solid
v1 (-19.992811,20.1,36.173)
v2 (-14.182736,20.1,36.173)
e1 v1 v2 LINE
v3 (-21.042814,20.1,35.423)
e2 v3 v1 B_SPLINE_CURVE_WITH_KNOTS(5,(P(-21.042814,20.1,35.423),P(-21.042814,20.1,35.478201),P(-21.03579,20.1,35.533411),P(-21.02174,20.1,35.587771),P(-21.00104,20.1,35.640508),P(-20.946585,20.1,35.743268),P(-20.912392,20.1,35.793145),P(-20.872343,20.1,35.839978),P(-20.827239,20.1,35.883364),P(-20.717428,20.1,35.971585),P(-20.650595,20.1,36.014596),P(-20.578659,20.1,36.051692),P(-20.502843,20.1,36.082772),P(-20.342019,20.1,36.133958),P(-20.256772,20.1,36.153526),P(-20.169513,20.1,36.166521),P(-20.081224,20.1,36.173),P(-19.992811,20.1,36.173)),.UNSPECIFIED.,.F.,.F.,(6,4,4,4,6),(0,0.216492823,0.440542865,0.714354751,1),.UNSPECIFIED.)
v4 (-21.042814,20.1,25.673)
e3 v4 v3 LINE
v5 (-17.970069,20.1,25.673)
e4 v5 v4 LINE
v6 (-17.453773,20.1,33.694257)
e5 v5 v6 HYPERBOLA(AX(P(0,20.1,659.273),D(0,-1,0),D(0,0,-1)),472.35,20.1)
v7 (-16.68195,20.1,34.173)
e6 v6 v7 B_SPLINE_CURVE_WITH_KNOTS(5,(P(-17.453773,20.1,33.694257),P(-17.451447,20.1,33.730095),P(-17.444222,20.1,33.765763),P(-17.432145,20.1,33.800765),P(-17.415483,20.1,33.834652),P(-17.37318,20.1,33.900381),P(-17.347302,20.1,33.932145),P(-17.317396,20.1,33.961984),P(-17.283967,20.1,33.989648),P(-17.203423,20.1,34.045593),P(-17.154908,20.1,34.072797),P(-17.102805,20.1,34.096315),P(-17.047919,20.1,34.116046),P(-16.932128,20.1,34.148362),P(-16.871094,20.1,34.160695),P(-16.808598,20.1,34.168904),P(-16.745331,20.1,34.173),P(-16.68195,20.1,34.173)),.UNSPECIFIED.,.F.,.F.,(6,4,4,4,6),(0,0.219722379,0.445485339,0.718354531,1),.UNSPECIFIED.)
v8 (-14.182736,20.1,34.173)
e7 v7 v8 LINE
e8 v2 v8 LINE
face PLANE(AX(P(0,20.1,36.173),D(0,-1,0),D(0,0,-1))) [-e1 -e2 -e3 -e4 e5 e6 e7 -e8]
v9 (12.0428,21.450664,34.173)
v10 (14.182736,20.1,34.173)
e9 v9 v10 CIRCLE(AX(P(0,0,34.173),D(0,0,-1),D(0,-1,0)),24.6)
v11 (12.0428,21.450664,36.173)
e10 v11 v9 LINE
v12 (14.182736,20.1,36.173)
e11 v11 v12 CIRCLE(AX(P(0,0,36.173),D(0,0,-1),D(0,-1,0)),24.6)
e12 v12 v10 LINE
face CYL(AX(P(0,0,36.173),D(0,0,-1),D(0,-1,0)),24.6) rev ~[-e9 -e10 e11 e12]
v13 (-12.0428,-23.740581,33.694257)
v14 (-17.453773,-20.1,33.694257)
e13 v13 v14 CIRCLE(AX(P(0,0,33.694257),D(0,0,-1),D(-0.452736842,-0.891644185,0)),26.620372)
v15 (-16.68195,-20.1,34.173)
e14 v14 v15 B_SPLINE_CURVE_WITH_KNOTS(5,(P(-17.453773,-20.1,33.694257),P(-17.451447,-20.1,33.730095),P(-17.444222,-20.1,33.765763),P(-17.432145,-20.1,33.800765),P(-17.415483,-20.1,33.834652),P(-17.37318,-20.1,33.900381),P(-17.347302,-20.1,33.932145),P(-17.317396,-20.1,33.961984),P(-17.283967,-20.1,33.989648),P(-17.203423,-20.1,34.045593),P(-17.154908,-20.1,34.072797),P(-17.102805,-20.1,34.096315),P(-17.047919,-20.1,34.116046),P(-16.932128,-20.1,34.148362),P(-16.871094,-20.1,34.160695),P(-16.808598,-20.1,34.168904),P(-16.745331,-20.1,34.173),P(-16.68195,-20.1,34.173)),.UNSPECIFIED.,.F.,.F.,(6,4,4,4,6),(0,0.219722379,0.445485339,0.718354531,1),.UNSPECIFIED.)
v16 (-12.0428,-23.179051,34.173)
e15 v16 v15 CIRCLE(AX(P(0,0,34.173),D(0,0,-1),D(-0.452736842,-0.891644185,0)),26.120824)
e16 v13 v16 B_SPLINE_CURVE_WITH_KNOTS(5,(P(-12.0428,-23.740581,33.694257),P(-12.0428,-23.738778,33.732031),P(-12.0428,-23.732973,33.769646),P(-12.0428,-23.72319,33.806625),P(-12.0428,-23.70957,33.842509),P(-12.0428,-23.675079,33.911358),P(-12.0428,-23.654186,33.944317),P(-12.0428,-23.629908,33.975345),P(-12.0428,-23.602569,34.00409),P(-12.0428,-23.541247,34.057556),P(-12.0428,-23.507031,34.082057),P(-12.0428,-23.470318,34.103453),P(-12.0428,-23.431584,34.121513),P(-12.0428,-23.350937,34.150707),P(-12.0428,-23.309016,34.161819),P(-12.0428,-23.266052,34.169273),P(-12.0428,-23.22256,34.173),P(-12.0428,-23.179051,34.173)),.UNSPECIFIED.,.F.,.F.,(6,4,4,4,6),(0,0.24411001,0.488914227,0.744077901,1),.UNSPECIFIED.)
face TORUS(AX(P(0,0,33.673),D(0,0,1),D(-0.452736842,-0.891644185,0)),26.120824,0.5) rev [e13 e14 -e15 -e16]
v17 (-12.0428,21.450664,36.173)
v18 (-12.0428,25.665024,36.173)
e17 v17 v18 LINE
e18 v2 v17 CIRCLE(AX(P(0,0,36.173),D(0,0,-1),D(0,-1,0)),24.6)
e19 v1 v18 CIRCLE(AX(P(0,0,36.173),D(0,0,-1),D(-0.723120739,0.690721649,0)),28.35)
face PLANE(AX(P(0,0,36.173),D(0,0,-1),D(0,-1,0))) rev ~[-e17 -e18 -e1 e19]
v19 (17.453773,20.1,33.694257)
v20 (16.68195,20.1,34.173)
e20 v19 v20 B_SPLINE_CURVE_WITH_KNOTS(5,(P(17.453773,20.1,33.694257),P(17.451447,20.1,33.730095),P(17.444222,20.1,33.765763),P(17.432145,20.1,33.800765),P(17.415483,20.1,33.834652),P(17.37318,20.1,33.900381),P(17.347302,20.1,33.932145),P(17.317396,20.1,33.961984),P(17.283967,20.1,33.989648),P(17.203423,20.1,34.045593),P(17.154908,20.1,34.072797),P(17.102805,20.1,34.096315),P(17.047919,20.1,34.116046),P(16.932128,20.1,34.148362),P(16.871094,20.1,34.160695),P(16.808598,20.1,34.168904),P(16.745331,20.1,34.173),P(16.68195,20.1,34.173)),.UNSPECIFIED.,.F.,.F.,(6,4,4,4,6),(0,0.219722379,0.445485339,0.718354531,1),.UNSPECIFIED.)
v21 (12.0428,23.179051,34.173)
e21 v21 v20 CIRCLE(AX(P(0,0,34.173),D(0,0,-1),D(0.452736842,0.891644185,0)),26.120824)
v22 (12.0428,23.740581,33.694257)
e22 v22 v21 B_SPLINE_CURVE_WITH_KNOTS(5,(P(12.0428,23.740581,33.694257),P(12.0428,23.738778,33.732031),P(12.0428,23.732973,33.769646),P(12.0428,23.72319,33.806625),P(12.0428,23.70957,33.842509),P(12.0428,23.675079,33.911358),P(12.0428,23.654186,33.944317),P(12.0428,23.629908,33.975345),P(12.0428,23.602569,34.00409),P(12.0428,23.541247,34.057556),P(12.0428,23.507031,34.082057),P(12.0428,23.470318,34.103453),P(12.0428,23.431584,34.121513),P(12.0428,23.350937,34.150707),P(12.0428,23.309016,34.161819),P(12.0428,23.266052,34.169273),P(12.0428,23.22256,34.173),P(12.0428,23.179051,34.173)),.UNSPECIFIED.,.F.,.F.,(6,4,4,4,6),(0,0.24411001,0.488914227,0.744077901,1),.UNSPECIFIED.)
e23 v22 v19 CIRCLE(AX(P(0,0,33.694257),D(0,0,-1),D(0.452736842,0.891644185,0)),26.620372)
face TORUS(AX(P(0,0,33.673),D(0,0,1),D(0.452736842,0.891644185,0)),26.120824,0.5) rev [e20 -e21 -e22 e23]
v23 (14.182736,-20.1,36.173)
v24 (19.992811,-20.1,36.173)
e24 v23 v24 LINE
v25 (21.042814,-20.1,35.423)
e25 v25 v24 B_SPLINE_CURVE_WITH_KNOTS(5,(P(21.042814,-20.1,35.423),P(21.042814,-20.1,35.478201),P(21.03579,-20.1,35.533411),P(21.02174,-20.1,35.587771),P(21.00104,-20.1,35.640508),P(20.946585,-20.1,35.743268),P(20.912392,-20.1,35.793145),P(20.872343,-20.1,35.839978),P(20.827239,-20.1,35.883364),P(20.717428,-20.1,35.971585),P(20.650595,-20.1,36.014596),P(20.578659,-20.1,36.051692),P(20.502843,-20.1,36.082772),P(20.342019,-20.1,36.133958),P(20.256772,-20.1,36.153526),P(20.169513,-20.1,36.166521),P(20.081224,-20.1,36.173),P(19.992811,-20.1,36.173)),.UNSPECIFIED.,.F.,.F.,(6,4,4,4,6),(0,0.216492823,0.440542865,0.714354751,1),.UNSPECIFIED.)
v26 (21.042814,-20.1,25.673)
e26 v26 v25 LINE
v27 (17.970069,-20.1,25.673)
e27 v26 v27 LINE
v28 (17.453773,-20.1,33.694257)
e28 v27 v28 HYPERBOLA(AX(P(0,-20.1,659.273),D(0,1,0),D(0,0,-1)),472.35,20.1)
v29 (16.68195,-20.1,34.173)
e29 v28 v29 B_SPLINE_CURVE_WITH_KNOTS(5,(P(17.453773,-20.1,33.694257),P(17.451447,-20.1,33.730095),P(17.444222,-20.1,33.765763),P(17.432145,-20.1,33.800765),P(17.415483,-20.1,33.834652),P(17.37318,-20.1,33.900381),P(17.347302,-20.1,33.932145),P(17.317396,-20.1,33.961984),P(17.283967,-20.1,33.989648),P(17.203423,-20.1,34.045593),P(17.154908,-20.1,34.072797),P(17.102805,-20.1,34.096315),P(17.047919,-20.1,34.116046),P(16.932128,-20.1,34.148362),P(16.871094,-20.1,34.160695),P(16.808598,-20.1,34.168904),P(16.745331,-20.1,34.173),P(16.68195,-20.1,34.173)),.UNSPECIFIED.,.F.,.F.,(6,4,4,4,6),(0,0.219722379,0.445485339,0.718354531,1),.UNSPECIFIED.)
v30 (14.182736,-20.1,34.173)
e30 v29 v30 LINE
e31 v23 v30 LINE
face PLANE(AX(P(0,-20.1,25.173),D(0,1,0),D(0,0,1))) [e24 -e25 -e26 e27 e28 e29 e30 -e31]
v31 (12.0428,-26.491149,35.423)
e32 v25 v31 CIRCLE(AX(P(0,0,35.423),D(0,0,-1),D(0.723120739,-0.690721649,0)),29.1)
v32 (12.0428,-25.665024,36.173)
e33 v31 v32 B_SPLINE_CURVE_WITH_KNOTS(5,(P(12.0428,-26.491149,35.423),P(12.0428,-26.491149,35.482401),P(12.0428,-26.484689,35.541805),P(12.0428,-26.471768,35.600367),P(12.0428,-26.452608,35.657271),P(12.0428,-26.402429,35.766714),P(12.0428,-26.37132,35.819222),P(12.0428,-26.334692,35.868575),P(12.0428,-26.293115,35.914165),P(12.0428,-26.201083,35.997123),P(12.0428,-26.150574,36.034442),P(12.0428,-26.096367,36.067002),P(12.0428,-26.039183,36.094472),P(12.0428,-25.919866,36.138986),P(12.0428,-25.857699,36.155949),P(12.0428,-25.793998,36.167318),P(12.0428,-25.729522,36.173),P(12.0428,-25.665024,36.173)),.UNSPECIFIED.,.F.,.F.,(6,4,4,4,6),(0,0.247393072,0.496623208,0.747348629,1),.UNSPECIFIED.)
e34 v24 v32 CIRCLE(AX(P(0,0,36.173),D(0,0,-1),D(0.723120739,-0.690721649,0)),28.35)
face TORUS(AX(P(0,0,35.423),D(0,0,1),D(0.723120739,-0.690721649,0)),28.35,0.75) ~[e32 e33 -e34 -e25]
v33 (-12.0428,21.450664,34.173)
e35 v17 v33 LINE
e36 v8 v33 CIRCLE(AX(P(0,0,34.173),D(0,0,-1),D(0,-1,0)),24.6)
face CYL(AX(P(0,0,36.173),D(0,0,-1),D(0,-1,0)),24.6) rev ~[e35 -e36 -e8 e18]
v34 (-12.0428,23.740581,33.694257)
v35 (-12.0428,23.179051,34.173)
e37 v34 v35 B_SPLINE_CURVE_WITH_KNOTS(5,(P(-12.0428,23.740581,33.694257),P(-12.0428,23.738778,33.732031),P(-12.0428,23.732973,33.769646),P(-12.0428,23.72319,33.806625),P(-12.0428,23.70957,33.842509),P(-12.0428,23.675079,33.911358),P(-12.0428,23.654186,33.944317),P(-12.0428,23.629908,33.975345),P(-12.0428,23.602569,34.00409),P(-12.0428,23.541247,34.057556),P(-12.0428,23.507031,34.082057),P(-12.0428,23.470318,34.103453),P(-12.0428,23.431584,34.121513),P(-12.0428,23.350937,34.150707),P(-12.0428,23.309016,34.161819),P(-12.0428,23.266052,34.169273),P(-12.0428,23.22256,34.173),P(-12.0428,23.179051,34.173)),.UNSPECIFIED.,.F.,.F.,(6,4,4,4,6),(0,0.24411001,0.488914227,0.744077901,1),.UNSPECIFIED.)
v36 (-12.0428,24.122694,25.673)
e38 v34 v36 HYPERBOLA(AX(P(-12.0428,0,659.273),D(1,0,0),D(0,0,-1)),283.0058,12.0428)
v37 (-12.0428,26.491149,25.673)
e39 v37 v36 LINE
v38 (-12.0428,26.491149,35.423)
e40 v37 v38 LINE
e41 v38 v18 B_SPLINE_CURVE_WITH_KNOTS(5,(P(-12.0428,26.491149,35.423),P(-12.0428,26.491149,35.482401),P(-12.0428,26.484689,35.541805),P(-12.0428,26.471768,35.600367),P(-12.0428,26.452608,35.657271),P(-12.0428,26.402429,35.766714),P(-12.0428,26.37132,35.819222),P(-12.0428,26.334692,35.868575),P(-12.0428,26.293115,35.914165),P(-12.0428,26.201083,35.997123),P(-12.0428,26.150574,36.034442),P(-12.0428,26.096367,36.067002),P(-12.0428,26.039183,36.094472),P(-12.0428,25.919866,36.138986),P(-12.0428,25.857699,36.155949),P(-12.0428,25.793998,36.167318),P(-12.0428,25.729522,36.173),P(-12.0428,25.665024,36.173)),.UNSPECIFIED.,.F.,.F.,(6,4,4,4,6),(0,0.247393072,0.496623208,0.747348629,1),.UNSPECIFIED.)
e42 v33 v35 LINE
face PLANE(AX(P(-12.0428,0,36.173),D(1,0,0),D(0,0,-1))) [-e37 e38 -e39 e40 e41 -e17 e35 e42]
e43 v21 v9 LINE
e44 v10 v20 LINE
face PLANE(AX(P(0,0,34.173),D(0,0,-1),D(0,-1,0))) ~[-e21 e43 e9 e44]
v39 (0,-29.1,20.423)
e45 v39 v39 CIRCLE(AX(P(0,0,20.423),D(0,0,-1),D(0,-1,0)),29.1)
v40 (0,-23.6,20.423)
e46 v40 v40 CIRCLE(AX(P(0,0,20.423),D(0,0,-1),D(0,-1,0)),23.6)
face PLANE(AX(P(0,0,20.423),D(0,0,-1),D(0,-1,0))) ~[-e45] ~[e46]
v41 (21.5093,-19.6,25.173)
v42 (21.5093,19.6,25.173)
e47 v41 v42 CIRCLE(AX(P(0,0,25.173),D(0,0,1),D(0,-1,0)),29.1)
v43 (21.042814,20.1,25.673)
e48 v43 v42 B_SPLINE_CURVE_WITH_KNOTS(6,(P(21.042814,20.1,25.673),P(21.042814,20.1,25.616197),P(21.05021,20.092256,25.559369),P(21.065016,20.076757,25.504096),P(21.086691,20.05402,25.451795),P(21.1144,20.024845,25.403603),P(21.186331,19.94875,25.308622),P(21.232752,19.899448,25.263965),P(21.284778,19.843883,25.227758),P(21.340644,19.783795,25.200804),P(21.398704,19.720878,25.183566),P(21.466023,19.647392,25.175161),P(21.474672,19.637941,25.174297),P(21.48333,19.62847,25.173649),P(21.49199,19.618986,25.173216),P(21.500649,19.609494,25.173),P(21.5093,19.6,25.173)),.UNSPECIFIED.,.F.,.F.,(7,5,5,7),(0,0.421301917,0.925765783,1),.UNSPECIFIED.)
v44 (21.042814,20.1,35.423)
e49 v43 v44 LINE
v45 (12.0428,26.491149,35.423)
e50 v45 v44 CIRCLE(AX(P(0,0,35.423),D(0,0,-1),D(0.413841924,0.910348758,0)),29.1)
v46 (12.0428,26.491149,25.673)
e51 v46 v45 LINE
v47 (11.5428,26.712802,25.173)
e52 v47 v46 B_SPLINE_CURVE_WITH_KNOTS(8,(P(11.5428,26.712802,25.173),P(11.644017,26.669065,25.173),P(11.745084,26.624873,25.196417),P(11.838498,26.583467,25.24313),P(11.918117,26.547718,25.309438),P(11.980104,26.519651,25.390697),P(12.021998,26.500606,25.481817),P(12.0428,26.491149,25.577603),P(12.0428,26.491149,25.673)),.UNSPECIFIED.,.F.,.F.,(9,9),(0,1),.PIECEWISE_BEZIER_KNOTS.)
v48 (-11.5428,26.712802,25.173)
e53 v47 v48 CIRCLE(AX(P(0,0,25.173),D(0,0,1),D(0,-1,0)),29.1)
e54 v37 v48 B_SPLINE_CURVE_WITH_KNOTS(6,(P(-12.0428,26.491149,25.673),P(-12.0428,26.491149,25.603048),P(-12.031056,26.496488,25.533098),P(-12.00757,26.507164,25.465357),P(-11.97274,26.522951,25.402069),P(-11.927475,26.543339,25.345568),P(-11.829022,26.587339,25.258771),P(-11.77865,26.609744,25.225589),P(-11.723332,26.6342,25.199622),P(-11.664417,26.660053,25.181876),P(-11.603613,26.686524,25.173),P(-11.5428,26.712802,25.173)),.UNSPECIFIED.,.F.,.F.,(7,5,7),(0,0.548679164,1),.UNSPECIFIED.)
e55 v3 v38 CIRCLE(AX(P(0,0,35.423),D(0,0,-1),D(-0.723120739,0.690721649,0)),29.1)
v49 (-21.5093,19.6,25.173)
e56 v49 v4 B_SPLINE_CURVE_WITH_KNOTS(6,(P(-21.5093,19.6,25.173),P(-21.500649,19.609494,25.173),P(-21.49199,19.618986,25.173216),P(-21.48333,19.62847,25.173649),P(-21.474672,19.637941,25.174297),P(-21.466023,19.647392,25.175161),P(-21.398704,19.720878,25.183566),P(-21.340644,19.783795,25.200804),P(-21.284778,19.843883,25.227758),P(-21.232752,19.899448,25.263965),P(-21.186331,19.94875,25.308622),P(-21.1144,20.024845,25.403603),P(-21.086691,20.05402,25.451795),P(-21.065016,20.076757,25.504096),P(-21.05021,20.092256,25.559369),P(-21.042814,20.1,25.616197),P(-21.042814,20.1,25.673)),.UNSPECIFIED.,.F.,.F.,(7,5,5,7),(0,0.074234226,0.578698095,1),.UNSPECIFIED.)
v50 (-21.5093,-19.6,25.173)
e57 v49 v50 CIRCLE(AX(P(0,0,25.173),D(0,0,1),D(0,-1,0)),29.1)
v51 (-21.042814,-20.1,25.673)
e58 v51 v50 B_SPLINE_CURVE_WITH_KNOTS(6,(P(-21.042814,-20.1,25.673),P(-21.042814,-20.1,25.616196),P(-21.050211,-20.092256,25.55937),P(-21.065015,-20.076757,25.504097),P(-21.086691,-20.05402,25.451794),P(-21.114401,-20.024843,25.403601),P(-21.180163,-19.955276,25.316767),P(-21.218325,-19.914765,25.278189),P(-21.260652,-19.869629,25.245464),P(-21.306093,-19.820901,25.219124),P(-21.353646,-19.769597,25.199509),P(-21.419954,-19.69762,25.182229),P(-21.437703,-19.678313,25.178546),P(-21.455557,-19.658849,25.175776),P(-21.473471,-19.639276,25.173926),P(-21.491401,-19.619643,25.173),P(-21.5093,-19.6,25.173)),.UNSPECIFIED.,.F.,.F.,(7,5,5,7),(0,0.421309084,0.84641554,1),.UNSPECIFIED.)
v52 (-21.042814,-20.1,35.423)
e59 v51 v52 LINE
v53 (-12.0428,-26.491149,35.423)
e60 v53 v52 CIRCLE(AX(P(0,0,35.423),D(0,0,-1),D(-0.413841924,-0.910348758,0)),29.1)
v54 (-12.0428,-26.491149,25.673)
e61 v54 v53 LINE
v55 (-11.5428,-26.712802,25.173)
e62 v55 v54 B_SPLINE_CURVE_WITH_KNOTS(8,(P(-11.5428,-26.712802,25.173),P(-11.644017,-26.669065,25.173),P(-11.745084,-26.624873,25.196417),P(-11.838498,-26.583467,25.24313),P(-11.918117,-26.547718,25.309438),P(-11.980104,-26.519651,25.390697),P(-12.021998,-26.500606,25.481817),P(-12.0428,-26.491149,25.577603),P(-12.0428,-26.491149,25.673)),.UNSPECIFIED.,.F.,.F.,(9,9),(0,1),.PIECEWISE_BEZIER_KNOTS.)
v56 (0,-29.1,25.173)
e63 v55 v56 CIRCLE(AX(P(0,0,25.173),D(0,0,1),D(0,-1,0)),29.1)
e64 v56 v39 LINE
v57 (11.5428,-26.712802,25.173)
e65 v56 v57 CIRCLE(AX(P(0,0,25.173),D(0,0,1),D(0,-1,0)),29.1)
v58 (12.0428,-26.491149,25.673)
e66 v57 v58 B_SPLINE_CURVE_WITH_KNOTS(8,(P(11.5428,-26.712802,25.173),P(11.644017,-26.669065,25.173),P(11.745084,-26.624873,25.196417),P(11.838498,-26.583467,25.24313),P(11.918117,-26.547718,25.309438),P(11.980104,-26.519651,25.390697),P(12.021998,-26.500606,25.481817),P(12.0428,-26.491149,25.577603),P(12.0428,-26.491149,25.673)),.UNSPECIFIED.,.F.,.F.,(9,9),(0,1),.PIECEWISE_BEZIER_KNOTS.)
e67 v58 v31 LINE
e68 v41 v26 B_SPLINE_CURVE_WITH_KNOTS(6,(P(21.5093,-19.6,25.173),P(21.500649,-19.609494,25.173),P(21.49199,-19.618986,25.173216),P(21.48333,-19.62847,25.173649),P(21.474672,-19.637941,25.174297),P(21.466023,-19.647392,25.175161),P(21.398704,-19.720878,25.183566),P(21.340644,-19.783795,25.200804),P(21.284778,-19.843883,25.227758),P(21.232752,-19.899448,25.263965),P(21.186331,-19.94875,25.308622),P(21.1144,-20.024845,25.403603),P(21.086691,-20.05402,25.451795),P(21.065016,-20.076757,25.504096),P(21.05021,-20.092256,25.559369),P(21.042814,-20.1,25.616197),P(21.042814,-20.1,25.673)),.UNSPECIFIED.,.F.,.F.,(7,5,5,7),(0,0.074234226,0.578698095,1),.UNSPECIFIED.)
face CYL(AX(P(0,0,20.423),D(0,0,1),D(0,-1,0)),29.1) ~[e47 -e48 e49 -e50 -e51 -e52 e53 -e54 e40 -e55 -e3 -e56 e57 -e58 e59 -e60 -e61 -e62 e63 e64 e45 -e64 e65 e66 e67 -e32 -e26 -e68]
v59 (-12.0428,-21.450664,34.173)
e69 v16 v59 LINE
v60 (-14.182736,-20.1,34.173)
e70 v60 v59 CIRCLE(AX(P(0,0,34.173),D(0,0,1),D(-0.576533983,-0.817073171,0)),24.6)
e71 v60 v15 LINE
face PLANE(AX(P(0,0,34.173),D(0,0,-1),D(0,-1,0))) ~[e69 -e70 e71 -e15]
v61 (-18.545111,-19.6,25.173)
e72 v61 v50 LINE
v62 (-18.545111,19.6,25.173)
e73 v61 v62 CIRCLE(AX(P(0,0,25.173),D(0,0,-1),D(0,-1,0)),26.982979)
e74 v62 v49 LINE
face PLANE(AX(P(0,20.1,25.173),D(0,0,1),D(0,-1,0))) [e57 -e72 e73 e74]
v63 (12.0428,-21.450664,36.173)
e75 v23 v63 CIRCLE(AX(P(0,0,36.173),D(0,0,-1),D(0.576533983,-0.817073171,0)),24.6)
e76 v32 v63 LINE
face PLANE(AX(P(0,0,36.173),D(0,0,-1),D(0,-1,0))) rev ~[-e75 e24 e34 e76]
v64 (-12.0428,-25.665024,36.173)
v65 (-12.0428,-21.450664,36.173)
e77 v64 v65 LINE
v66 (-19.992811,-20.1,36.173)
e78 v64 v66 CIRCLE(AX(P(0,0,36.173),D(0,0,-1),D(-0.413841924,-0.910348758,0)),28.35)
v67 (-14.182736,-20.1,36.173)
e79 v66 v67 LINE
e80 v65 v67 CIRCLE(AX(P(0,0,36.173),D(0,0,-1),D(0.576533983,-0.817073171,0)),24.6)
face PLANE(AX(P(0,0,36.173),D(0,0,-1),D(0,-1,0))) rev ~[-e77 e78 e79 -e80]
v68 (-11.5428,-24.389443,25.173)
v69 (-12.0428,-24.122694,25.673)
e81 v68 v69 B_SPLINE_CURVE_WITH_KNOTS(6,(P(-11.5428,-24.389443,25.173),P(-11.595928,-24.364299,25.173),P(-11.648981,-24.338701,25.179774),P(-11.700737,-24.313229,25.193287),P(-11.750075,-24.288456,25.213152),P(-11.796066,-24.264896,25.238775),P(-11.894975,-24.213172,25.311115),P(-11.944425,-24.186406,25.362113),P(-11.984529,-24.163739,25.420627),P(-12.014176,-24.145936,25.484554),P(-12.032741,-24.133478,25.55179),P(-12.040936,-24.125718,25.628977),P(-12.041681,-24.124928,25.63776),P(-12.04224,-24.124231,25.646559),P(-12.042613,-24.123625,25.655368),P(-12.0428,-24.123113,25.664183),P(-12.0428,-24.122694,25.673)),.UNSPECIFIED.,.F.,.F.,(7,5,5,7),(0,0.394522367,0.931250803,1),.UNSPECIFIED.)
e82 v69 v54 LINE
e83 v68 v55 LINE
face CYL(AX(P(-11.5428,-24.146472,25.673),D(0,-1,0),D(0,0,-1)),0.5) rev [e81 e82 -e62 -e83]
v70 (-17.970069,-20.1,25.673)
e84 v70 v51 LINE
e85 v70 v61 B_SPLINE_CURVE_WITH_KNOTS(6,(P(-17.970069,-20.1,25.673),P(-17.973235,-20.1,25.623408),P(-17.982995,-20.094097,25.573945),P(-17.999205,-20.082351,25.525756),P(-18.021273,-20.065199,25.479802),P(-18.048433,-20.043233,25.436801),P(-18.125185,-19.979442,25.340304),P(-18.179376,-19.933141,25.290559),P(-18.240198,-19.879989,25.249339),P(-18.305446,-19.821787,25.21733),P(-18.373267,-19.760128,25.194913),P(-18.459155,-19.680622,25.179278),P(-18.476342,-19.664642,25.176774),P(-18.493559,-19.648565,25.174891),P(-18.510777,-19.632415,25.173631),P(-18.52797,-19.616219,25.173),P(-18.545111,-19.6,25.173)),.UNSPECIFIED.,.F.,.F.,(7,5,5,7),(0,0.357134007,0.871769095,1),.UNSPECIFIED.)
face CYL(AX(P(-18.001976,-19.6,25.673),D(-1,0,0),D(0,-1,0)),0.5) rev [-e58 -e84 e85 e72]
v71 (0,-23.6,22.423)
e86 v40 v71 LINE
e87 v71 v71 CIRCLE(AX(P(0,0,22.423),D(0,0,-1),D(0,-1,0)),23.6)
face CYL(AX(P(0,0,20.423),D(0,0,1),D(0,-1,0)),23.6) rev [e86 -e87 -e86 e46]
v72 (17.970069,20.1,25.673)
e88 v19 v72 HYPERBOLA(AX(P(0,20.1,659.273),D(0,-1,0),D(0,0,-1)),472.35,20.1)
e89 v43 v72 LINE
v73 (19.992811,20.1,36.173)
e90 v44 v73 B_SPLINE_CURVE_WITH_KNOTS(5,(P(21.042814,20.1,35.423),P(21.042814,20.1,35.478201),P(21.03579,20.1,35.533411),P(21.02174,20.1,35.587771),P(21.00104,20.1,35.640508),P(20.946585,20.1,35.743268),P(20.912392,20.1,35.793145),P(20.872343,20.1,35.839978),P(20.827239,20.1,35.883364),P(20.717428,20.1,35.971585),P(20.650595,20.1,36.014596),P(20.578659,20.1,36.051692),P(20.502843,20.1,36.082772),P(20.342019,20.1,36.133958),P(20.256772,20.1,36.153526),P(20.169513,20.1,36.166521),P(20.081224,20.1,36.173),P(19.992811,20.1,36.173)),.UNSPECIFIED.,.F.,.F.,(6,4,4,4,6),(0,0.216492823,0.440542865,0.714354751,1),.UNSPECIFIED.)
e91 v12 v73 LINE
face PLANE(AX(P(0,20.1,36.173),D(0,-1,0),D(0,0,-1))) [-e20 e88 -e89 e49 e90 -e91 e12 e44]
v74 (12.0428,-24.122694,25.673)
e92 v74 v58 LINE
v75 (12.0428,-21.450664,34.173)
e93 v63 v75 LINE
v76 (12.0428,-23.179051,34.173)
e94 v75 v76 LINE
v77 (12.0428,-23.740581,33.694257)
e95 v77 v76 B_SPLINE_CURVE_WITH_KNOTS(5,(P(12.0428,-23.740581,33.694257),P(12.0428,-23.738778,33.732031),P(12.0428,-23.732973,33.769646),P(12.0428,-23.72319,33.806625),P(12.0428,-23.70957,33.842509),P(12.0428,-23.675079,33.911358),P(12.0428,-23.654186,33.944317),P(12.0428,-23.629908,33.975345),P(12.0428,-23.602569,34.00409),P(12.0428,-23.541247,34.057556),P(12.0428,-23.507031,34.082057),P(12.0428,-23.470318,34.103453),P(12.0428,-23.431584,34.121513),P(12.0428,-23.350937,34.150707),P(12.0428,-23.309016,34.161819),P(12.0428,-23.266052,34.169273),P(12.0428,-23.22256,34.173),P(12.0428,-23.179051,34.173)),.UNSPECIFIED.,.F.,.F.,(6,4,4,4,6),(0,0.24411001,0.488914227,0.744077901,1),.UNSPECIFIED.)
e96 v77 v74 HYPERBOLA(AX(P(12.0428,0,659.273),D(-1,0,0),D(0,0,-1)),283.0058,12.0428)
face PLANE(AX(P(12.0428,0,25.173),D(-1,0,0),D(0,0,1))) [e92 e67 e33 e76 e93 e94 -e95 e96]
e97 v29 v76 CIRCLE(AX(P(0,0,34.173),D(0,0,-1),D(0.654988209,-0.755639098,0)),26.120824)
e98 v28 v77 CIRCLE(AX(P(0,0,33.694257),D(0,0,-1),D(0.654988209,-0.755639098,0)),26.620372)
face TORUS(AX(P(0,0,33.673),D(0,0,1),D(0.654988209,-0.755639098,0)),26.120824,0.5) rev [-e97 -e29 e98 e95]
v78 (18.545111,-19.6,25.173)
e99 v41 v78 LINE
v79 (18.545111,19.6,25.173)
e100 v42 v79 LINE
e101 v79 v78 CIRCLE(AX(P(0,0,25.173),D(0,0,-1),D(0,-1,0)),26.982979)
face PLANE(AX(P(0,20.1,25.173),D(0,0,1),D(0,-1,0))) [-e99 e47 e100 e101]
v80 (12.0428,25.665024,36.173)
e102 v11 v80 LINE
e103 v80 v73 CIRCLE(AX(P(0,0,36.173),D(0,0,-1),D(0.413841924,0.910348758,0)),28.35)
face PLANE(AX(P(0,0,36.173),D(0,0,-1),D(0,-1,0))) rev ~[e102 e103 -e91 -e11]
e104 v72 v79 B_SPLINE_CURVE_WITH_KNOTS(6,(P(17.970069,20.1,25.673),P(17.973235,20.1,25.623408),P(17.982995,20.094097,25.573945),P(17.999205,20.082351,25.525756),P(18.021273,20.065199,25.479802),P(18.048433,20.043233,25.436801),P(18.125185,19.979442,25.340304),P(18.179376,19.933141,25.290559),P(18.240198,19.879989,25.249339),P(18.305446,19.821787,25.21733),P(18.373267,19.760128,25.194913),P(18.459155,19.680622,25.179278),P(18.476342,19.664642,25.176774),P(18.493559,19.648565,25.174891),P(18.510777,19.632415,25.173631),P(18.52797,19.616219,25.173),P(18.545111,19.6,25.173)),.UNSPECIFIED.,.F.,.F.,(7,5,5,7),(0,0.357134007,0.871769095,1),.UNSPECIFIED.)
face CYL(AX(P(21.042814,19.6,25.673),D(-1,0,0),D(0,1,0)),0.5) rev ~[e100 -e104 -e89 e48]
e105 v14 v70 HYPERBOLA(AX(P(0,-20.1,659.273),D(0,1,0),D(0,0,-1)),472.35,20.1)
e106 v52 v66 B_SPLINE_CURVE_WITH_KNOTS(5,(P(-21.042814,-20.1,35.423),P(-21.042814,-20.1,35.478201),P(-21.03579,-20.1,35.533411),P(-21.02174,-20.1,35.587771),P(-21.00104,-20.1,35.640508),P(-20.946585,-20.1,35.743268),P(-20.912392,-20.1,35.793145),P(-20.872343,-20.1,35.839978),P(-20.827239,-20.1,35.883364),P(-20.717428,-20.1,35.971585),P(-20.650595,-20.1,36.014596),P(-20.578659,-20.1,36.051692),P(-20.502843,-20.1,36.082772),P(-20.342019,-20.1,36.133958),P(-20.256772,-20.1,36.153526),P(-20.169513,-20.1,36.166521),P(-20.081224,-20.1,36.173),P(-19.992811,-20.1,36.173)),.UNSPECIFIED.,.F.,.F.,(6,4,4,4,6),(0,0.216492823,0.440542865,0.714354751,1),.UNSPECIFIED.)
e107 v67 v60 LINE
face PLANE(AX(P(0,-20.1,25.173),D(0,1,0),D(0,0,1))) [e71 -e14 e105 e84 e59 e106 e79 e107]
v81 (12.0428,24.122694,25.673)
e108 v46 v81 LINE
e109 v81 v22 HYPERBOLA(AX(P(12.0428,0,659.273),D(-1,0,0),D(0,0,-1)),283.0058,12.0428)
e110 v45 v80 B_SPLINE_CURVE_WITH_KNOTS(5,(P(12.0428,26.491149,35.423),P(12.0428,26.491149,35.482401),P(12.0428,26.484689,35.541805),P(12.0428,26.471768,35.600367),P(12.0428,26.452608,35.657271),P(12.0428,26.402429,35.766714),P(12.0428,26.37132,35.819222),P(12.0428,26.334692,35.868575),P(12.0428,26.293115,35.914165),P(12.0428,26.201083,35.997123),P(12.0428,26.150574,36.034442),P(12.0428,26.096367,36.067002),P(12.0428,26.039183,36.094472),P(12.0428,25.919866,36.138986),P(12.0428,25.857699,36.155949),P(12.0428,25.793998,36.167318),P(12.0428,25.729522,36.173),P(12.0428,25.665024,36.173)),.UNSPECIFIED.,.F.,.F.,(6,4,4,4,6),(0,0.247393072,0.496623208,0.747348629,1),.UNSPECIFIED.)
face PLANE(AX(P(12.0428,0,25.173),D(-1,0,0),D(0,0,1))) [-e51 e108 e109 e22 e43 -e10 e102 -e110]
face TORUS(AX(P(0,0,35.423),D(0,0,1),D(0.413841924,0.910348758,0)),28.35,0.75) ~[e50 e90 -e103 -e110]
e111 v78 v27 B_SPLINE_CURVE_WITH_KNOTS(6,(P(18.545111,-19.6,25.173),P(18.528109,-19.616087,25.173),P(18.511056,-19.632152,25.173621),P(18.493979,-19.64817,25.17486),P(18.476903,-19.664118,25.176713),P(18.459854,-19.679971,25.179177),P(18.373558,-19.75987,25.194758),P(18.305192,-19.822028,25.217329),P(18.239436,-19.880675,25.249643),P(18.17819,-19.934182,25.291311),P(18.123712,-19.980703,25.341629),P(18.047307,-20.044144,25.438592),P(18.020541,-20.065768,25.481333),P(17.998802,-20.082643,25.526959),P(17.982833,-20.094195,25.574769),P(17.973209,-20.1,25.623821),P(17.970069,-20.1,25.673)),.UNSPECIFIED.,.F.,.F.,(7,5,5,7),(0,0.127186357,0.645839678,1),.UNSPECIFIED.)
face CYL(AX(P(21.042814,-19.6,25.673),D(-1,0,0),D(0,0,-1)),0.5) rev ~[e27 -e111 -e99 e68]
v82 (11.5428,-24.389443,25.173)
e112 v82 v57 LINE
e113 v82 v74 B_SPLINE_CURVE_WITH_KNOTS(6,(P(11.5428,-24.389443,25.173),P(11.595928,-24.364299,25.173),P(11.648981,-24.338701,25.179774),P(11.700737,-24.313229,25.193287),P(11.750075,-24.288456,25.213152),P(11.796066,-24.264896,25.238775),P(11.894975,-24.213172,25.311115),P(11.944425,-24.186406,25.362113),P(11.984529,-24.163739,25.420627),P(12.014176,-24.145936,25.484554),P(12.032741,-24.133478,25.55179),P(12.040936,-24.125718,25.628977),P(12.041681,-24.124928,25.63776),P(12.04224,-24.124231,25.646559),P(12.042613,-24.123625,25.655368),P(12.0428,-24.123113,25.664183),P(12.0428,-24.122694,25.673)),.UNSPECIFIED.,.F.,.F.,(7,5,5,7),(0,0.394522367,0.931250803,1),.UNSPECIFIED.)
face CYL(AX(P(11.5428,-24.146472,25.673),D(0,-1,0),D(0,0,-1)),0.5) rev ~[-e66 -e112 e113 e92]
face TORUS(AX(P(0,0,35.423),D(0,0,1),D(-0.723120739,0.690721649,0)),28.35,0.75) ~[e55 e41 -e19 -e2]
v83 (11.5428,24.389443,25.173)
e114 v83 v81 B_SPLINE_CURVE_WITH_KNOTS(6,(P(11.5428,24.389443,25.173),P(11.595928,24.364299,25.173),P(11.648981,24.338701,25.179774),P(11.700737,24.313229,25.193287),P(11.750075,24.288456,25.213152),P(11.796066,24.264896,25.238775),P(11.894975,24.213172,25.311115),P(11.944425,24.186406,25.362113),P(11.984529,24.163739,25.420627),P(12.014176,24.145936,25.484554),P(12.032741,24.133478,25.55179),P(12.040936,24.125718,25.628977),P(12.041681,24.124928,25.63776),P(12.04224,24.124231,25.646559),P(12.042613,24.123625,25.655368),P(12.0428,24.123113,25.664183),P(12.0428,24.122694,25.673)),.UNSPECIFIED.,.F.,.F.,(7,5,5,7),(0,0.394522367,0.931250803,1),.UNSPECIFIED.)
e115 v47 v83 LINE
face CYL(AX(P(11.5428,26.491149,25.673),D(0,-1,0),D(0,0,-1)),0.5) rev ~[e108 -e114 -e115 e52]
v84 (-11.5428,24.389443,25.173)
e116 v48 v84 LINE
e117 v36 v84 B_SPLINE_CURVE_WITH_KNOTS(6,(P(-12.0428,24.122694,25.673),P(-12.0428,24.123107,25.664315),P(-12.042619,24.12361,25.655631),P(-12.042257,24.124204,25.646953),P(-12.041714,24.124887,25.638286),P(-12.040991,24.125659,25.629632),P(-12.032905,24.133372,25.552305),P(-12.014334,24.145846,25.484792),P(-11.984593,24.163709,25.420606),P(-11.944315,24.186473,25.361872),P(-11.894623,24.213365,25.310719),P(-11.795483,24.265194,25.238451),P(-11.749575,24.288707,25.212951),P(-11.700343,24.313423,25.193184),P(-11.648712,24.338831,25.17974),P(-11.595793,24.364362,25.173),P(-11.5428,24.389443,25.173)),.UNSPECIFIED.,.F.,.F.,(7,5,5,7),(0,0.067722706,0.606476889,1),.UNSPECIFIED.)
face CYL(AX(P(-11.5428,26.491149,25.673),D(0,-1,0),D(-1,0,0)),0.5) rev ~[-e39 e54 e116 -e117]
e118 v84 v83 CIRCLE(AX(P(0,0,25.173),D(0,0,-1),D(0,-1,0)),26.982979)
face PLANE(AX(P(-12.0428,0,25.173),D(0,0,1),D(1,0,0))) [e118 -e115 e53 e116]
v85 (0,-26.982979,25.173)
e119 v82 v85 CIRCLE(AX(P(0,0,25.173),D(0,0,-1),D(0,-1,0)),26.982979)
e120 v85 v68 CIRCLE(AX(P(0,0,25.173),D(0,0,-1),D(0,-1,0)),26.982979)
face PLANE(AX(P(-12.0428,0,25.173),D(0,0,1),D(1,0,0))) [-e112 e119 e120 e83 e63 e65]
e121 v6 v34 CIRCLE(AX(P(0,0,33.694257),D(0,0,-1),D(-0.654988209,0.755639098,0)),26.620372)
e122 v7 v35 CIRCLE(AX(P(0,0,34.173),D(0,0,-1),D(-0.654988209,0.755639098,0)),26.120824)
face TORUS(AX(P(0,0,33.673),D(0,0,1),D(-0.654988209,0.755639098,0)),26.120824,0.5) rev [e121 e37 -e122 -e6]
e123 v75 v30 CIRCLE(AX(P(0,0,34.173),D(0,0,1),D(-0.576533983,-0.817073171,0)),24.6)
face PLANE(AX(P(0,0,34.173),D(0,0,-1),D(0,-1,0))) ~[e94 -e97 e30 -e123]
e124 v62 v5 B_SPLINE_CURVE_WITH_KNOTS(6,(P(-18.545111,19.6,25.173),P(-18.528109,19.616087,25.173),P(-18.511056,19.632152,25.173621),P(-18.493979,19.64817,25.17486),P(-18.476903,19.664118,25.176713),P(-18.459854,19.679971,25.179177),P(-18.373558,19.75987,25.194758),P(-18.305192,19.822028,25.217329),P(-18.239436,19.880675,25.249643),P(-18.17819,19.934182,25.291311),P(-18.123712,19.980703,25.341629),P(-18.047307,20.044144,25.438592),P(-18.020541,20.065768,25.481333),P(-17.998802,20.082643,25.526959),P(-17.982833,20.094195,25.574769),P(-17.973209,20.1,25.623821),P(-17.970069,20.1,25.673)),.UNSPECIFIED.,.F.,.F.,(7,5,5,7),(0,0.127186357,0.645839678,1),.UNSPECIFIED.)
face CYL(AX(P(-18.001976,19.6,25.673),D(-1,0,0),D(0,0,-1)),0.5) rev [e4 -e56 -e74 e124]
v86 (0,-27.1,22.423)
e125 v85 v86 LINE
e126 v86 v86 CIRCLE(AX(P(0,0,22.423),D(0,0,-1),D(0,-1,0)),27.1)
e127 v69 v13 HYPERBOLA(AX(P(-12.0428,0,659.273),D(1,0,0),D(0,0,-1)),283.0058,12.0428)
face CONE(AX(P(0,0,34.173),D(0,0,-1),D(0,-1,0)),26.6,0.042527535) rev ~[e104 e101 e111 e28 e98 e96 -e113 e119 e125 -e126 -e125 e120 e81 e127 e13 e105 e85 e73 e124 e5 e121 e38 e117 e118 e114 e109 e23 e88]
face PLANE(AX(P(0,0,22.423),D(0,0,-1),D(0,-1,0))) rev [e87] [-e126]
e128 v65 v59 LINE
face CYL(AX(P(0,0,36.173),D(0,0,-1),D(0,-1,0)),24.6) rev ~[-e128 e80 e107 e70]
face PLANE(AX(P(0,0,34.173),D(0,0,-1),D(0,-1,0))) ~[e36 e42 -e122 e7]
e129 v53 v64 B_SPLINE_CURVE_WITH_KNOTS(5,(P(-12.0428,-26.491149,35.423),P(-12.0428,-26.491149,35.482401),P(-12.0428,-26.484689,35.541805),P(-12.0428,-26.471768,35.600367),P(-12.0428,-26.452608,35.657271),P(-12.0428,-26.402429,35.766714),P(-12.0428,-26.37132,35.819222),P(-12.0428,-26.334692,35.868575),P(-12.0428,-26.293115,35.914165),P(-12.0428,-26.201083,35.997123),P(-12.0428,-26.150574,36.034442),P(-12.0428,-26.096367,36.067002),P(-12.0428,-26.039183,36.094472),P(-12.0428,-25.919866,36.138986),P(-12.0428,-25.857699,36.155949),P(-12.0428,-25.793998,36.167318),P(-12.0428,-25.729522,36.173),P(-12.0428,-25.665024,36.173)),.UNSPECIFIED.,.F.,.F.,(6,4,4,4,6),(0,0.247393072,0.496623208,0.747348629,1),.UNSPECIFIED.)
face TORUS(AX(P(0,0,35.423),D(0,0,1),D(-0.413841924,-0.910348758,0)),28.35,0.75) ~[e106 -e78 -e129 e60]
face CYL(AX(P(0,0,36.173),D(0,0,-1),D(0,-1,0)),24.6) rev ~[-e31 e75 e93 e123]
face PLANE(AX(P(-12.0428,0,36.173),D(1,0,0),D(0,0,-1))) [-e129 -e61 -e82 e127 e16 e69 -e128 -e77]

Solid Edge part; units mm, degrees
sketch "Sketch1" plane through (0, 0, 0) normal (-1, 0, 0) x (0, -1, 0)
  line L0 (23.6, 20.423) -> (29.1, 20.423)
  line L1 (29.1, 20.423) -> (29.1, 22.423)
  line L2 (29.1, 22.423) -> (29.1, 36.173)
  line L3 (29.1, 36.173) -> (24.6, 36.173)
  line L4 (24.6, 36.173) -> (24.6, 34.173)
  line L5 (24.6, 34.173) -> (26.6, 34.173)
  line L6 (26.6, 34.173) -> (27.1, 22.423)
  line L7 (23.6, 22.423) -> (27.1, 22.423)
  line L8 (23.6, 20.423) -> (23.6, 22.423)
  dimension "D1" = 13.75
  dimension "D2" = 2
  dimension "D3" = 5.5
  dimension "D4" = 2
  dimension "D5" = 2
  dimension "D6" = 4.5
  dimension "D7" = 2
  dimension "D8" = 3.5
  dimension "D9" = 23.6
  dimension "D10" = 11.75
revolve "RevolvedProtrusion1" add sketch "Sketch1" angle 360 about axis through (0, 0, 57) along (0, 0, -1)
sketch "Sketch2" plane through (0, 0, 0) normal (-1, 0, 0) x (0, -1, 0)
  line L0 (-20.1, 36.173) -> (-20.1, 25.173)
  line L1 (-20.1, 25.173) -> (20.1, 25.173)
  line L2 (20.1, 25.173) -> (20.1, 36.173)
  line L3 (20.1, 36.173) -> (-20.1, 36.173)
  dimension "D1" = 9
  dimension "D2" = 9
  dimension "D3" = 11
extrude "Cutout1" cut sketch "Sketch2" along normal mid plane 75
sketch "Sketch3" plane through (0, 0, 0) normal (0, -1, 0) x (1, 0, 0)
  line L0 (-12.0428, 36.173) -> (-12.0428, 25.173)
  line L1 (-12.0428, 25.173) -> (12.0428, 25.173)
  line L2 (12.0428, 25.173) -> (12.0428, 36.173)
  line L3 (12.0428, 36.173) -> (-12.0428, 36.173)
  dimension "D1" = 11
  dimension "D2" = 9
  dimension "D3" = 9
extrude "Extrusionsausschnitt_2" cut sketch "Sketch3" along normal mid plane 75
fillet "Verrundung_0_5_mm" radius 0.5 12 edges at (19.5224, -20.1, 25.173) (-12.0428, -25.3188, 25.173) (12.0428, -25.3188, 25.173) (-19.5224, -20.1, 25.173) (-19.5224, 20.1, 25.173) (-12.0428, 25.3188, 25.173) (12.0428, 25.3188, 25.173) (19.5224, 20.1, 25.173) (14.8434, 22.0734, 34.173) (-14.8434, 22.0734, 34.173) (-14.8434, -22.0734, 34.173) (14.8434, -22.0734, 34.173)
fillet "Verrundung_0_75_mm" radius 0.75 4 edges at (-16.8486, -23.7262, 36.173) (16.8486, -23.7262, 36.173) (16.8486, 23.7262, 36.173) (-16.8486, 23.7262, 36.173)
